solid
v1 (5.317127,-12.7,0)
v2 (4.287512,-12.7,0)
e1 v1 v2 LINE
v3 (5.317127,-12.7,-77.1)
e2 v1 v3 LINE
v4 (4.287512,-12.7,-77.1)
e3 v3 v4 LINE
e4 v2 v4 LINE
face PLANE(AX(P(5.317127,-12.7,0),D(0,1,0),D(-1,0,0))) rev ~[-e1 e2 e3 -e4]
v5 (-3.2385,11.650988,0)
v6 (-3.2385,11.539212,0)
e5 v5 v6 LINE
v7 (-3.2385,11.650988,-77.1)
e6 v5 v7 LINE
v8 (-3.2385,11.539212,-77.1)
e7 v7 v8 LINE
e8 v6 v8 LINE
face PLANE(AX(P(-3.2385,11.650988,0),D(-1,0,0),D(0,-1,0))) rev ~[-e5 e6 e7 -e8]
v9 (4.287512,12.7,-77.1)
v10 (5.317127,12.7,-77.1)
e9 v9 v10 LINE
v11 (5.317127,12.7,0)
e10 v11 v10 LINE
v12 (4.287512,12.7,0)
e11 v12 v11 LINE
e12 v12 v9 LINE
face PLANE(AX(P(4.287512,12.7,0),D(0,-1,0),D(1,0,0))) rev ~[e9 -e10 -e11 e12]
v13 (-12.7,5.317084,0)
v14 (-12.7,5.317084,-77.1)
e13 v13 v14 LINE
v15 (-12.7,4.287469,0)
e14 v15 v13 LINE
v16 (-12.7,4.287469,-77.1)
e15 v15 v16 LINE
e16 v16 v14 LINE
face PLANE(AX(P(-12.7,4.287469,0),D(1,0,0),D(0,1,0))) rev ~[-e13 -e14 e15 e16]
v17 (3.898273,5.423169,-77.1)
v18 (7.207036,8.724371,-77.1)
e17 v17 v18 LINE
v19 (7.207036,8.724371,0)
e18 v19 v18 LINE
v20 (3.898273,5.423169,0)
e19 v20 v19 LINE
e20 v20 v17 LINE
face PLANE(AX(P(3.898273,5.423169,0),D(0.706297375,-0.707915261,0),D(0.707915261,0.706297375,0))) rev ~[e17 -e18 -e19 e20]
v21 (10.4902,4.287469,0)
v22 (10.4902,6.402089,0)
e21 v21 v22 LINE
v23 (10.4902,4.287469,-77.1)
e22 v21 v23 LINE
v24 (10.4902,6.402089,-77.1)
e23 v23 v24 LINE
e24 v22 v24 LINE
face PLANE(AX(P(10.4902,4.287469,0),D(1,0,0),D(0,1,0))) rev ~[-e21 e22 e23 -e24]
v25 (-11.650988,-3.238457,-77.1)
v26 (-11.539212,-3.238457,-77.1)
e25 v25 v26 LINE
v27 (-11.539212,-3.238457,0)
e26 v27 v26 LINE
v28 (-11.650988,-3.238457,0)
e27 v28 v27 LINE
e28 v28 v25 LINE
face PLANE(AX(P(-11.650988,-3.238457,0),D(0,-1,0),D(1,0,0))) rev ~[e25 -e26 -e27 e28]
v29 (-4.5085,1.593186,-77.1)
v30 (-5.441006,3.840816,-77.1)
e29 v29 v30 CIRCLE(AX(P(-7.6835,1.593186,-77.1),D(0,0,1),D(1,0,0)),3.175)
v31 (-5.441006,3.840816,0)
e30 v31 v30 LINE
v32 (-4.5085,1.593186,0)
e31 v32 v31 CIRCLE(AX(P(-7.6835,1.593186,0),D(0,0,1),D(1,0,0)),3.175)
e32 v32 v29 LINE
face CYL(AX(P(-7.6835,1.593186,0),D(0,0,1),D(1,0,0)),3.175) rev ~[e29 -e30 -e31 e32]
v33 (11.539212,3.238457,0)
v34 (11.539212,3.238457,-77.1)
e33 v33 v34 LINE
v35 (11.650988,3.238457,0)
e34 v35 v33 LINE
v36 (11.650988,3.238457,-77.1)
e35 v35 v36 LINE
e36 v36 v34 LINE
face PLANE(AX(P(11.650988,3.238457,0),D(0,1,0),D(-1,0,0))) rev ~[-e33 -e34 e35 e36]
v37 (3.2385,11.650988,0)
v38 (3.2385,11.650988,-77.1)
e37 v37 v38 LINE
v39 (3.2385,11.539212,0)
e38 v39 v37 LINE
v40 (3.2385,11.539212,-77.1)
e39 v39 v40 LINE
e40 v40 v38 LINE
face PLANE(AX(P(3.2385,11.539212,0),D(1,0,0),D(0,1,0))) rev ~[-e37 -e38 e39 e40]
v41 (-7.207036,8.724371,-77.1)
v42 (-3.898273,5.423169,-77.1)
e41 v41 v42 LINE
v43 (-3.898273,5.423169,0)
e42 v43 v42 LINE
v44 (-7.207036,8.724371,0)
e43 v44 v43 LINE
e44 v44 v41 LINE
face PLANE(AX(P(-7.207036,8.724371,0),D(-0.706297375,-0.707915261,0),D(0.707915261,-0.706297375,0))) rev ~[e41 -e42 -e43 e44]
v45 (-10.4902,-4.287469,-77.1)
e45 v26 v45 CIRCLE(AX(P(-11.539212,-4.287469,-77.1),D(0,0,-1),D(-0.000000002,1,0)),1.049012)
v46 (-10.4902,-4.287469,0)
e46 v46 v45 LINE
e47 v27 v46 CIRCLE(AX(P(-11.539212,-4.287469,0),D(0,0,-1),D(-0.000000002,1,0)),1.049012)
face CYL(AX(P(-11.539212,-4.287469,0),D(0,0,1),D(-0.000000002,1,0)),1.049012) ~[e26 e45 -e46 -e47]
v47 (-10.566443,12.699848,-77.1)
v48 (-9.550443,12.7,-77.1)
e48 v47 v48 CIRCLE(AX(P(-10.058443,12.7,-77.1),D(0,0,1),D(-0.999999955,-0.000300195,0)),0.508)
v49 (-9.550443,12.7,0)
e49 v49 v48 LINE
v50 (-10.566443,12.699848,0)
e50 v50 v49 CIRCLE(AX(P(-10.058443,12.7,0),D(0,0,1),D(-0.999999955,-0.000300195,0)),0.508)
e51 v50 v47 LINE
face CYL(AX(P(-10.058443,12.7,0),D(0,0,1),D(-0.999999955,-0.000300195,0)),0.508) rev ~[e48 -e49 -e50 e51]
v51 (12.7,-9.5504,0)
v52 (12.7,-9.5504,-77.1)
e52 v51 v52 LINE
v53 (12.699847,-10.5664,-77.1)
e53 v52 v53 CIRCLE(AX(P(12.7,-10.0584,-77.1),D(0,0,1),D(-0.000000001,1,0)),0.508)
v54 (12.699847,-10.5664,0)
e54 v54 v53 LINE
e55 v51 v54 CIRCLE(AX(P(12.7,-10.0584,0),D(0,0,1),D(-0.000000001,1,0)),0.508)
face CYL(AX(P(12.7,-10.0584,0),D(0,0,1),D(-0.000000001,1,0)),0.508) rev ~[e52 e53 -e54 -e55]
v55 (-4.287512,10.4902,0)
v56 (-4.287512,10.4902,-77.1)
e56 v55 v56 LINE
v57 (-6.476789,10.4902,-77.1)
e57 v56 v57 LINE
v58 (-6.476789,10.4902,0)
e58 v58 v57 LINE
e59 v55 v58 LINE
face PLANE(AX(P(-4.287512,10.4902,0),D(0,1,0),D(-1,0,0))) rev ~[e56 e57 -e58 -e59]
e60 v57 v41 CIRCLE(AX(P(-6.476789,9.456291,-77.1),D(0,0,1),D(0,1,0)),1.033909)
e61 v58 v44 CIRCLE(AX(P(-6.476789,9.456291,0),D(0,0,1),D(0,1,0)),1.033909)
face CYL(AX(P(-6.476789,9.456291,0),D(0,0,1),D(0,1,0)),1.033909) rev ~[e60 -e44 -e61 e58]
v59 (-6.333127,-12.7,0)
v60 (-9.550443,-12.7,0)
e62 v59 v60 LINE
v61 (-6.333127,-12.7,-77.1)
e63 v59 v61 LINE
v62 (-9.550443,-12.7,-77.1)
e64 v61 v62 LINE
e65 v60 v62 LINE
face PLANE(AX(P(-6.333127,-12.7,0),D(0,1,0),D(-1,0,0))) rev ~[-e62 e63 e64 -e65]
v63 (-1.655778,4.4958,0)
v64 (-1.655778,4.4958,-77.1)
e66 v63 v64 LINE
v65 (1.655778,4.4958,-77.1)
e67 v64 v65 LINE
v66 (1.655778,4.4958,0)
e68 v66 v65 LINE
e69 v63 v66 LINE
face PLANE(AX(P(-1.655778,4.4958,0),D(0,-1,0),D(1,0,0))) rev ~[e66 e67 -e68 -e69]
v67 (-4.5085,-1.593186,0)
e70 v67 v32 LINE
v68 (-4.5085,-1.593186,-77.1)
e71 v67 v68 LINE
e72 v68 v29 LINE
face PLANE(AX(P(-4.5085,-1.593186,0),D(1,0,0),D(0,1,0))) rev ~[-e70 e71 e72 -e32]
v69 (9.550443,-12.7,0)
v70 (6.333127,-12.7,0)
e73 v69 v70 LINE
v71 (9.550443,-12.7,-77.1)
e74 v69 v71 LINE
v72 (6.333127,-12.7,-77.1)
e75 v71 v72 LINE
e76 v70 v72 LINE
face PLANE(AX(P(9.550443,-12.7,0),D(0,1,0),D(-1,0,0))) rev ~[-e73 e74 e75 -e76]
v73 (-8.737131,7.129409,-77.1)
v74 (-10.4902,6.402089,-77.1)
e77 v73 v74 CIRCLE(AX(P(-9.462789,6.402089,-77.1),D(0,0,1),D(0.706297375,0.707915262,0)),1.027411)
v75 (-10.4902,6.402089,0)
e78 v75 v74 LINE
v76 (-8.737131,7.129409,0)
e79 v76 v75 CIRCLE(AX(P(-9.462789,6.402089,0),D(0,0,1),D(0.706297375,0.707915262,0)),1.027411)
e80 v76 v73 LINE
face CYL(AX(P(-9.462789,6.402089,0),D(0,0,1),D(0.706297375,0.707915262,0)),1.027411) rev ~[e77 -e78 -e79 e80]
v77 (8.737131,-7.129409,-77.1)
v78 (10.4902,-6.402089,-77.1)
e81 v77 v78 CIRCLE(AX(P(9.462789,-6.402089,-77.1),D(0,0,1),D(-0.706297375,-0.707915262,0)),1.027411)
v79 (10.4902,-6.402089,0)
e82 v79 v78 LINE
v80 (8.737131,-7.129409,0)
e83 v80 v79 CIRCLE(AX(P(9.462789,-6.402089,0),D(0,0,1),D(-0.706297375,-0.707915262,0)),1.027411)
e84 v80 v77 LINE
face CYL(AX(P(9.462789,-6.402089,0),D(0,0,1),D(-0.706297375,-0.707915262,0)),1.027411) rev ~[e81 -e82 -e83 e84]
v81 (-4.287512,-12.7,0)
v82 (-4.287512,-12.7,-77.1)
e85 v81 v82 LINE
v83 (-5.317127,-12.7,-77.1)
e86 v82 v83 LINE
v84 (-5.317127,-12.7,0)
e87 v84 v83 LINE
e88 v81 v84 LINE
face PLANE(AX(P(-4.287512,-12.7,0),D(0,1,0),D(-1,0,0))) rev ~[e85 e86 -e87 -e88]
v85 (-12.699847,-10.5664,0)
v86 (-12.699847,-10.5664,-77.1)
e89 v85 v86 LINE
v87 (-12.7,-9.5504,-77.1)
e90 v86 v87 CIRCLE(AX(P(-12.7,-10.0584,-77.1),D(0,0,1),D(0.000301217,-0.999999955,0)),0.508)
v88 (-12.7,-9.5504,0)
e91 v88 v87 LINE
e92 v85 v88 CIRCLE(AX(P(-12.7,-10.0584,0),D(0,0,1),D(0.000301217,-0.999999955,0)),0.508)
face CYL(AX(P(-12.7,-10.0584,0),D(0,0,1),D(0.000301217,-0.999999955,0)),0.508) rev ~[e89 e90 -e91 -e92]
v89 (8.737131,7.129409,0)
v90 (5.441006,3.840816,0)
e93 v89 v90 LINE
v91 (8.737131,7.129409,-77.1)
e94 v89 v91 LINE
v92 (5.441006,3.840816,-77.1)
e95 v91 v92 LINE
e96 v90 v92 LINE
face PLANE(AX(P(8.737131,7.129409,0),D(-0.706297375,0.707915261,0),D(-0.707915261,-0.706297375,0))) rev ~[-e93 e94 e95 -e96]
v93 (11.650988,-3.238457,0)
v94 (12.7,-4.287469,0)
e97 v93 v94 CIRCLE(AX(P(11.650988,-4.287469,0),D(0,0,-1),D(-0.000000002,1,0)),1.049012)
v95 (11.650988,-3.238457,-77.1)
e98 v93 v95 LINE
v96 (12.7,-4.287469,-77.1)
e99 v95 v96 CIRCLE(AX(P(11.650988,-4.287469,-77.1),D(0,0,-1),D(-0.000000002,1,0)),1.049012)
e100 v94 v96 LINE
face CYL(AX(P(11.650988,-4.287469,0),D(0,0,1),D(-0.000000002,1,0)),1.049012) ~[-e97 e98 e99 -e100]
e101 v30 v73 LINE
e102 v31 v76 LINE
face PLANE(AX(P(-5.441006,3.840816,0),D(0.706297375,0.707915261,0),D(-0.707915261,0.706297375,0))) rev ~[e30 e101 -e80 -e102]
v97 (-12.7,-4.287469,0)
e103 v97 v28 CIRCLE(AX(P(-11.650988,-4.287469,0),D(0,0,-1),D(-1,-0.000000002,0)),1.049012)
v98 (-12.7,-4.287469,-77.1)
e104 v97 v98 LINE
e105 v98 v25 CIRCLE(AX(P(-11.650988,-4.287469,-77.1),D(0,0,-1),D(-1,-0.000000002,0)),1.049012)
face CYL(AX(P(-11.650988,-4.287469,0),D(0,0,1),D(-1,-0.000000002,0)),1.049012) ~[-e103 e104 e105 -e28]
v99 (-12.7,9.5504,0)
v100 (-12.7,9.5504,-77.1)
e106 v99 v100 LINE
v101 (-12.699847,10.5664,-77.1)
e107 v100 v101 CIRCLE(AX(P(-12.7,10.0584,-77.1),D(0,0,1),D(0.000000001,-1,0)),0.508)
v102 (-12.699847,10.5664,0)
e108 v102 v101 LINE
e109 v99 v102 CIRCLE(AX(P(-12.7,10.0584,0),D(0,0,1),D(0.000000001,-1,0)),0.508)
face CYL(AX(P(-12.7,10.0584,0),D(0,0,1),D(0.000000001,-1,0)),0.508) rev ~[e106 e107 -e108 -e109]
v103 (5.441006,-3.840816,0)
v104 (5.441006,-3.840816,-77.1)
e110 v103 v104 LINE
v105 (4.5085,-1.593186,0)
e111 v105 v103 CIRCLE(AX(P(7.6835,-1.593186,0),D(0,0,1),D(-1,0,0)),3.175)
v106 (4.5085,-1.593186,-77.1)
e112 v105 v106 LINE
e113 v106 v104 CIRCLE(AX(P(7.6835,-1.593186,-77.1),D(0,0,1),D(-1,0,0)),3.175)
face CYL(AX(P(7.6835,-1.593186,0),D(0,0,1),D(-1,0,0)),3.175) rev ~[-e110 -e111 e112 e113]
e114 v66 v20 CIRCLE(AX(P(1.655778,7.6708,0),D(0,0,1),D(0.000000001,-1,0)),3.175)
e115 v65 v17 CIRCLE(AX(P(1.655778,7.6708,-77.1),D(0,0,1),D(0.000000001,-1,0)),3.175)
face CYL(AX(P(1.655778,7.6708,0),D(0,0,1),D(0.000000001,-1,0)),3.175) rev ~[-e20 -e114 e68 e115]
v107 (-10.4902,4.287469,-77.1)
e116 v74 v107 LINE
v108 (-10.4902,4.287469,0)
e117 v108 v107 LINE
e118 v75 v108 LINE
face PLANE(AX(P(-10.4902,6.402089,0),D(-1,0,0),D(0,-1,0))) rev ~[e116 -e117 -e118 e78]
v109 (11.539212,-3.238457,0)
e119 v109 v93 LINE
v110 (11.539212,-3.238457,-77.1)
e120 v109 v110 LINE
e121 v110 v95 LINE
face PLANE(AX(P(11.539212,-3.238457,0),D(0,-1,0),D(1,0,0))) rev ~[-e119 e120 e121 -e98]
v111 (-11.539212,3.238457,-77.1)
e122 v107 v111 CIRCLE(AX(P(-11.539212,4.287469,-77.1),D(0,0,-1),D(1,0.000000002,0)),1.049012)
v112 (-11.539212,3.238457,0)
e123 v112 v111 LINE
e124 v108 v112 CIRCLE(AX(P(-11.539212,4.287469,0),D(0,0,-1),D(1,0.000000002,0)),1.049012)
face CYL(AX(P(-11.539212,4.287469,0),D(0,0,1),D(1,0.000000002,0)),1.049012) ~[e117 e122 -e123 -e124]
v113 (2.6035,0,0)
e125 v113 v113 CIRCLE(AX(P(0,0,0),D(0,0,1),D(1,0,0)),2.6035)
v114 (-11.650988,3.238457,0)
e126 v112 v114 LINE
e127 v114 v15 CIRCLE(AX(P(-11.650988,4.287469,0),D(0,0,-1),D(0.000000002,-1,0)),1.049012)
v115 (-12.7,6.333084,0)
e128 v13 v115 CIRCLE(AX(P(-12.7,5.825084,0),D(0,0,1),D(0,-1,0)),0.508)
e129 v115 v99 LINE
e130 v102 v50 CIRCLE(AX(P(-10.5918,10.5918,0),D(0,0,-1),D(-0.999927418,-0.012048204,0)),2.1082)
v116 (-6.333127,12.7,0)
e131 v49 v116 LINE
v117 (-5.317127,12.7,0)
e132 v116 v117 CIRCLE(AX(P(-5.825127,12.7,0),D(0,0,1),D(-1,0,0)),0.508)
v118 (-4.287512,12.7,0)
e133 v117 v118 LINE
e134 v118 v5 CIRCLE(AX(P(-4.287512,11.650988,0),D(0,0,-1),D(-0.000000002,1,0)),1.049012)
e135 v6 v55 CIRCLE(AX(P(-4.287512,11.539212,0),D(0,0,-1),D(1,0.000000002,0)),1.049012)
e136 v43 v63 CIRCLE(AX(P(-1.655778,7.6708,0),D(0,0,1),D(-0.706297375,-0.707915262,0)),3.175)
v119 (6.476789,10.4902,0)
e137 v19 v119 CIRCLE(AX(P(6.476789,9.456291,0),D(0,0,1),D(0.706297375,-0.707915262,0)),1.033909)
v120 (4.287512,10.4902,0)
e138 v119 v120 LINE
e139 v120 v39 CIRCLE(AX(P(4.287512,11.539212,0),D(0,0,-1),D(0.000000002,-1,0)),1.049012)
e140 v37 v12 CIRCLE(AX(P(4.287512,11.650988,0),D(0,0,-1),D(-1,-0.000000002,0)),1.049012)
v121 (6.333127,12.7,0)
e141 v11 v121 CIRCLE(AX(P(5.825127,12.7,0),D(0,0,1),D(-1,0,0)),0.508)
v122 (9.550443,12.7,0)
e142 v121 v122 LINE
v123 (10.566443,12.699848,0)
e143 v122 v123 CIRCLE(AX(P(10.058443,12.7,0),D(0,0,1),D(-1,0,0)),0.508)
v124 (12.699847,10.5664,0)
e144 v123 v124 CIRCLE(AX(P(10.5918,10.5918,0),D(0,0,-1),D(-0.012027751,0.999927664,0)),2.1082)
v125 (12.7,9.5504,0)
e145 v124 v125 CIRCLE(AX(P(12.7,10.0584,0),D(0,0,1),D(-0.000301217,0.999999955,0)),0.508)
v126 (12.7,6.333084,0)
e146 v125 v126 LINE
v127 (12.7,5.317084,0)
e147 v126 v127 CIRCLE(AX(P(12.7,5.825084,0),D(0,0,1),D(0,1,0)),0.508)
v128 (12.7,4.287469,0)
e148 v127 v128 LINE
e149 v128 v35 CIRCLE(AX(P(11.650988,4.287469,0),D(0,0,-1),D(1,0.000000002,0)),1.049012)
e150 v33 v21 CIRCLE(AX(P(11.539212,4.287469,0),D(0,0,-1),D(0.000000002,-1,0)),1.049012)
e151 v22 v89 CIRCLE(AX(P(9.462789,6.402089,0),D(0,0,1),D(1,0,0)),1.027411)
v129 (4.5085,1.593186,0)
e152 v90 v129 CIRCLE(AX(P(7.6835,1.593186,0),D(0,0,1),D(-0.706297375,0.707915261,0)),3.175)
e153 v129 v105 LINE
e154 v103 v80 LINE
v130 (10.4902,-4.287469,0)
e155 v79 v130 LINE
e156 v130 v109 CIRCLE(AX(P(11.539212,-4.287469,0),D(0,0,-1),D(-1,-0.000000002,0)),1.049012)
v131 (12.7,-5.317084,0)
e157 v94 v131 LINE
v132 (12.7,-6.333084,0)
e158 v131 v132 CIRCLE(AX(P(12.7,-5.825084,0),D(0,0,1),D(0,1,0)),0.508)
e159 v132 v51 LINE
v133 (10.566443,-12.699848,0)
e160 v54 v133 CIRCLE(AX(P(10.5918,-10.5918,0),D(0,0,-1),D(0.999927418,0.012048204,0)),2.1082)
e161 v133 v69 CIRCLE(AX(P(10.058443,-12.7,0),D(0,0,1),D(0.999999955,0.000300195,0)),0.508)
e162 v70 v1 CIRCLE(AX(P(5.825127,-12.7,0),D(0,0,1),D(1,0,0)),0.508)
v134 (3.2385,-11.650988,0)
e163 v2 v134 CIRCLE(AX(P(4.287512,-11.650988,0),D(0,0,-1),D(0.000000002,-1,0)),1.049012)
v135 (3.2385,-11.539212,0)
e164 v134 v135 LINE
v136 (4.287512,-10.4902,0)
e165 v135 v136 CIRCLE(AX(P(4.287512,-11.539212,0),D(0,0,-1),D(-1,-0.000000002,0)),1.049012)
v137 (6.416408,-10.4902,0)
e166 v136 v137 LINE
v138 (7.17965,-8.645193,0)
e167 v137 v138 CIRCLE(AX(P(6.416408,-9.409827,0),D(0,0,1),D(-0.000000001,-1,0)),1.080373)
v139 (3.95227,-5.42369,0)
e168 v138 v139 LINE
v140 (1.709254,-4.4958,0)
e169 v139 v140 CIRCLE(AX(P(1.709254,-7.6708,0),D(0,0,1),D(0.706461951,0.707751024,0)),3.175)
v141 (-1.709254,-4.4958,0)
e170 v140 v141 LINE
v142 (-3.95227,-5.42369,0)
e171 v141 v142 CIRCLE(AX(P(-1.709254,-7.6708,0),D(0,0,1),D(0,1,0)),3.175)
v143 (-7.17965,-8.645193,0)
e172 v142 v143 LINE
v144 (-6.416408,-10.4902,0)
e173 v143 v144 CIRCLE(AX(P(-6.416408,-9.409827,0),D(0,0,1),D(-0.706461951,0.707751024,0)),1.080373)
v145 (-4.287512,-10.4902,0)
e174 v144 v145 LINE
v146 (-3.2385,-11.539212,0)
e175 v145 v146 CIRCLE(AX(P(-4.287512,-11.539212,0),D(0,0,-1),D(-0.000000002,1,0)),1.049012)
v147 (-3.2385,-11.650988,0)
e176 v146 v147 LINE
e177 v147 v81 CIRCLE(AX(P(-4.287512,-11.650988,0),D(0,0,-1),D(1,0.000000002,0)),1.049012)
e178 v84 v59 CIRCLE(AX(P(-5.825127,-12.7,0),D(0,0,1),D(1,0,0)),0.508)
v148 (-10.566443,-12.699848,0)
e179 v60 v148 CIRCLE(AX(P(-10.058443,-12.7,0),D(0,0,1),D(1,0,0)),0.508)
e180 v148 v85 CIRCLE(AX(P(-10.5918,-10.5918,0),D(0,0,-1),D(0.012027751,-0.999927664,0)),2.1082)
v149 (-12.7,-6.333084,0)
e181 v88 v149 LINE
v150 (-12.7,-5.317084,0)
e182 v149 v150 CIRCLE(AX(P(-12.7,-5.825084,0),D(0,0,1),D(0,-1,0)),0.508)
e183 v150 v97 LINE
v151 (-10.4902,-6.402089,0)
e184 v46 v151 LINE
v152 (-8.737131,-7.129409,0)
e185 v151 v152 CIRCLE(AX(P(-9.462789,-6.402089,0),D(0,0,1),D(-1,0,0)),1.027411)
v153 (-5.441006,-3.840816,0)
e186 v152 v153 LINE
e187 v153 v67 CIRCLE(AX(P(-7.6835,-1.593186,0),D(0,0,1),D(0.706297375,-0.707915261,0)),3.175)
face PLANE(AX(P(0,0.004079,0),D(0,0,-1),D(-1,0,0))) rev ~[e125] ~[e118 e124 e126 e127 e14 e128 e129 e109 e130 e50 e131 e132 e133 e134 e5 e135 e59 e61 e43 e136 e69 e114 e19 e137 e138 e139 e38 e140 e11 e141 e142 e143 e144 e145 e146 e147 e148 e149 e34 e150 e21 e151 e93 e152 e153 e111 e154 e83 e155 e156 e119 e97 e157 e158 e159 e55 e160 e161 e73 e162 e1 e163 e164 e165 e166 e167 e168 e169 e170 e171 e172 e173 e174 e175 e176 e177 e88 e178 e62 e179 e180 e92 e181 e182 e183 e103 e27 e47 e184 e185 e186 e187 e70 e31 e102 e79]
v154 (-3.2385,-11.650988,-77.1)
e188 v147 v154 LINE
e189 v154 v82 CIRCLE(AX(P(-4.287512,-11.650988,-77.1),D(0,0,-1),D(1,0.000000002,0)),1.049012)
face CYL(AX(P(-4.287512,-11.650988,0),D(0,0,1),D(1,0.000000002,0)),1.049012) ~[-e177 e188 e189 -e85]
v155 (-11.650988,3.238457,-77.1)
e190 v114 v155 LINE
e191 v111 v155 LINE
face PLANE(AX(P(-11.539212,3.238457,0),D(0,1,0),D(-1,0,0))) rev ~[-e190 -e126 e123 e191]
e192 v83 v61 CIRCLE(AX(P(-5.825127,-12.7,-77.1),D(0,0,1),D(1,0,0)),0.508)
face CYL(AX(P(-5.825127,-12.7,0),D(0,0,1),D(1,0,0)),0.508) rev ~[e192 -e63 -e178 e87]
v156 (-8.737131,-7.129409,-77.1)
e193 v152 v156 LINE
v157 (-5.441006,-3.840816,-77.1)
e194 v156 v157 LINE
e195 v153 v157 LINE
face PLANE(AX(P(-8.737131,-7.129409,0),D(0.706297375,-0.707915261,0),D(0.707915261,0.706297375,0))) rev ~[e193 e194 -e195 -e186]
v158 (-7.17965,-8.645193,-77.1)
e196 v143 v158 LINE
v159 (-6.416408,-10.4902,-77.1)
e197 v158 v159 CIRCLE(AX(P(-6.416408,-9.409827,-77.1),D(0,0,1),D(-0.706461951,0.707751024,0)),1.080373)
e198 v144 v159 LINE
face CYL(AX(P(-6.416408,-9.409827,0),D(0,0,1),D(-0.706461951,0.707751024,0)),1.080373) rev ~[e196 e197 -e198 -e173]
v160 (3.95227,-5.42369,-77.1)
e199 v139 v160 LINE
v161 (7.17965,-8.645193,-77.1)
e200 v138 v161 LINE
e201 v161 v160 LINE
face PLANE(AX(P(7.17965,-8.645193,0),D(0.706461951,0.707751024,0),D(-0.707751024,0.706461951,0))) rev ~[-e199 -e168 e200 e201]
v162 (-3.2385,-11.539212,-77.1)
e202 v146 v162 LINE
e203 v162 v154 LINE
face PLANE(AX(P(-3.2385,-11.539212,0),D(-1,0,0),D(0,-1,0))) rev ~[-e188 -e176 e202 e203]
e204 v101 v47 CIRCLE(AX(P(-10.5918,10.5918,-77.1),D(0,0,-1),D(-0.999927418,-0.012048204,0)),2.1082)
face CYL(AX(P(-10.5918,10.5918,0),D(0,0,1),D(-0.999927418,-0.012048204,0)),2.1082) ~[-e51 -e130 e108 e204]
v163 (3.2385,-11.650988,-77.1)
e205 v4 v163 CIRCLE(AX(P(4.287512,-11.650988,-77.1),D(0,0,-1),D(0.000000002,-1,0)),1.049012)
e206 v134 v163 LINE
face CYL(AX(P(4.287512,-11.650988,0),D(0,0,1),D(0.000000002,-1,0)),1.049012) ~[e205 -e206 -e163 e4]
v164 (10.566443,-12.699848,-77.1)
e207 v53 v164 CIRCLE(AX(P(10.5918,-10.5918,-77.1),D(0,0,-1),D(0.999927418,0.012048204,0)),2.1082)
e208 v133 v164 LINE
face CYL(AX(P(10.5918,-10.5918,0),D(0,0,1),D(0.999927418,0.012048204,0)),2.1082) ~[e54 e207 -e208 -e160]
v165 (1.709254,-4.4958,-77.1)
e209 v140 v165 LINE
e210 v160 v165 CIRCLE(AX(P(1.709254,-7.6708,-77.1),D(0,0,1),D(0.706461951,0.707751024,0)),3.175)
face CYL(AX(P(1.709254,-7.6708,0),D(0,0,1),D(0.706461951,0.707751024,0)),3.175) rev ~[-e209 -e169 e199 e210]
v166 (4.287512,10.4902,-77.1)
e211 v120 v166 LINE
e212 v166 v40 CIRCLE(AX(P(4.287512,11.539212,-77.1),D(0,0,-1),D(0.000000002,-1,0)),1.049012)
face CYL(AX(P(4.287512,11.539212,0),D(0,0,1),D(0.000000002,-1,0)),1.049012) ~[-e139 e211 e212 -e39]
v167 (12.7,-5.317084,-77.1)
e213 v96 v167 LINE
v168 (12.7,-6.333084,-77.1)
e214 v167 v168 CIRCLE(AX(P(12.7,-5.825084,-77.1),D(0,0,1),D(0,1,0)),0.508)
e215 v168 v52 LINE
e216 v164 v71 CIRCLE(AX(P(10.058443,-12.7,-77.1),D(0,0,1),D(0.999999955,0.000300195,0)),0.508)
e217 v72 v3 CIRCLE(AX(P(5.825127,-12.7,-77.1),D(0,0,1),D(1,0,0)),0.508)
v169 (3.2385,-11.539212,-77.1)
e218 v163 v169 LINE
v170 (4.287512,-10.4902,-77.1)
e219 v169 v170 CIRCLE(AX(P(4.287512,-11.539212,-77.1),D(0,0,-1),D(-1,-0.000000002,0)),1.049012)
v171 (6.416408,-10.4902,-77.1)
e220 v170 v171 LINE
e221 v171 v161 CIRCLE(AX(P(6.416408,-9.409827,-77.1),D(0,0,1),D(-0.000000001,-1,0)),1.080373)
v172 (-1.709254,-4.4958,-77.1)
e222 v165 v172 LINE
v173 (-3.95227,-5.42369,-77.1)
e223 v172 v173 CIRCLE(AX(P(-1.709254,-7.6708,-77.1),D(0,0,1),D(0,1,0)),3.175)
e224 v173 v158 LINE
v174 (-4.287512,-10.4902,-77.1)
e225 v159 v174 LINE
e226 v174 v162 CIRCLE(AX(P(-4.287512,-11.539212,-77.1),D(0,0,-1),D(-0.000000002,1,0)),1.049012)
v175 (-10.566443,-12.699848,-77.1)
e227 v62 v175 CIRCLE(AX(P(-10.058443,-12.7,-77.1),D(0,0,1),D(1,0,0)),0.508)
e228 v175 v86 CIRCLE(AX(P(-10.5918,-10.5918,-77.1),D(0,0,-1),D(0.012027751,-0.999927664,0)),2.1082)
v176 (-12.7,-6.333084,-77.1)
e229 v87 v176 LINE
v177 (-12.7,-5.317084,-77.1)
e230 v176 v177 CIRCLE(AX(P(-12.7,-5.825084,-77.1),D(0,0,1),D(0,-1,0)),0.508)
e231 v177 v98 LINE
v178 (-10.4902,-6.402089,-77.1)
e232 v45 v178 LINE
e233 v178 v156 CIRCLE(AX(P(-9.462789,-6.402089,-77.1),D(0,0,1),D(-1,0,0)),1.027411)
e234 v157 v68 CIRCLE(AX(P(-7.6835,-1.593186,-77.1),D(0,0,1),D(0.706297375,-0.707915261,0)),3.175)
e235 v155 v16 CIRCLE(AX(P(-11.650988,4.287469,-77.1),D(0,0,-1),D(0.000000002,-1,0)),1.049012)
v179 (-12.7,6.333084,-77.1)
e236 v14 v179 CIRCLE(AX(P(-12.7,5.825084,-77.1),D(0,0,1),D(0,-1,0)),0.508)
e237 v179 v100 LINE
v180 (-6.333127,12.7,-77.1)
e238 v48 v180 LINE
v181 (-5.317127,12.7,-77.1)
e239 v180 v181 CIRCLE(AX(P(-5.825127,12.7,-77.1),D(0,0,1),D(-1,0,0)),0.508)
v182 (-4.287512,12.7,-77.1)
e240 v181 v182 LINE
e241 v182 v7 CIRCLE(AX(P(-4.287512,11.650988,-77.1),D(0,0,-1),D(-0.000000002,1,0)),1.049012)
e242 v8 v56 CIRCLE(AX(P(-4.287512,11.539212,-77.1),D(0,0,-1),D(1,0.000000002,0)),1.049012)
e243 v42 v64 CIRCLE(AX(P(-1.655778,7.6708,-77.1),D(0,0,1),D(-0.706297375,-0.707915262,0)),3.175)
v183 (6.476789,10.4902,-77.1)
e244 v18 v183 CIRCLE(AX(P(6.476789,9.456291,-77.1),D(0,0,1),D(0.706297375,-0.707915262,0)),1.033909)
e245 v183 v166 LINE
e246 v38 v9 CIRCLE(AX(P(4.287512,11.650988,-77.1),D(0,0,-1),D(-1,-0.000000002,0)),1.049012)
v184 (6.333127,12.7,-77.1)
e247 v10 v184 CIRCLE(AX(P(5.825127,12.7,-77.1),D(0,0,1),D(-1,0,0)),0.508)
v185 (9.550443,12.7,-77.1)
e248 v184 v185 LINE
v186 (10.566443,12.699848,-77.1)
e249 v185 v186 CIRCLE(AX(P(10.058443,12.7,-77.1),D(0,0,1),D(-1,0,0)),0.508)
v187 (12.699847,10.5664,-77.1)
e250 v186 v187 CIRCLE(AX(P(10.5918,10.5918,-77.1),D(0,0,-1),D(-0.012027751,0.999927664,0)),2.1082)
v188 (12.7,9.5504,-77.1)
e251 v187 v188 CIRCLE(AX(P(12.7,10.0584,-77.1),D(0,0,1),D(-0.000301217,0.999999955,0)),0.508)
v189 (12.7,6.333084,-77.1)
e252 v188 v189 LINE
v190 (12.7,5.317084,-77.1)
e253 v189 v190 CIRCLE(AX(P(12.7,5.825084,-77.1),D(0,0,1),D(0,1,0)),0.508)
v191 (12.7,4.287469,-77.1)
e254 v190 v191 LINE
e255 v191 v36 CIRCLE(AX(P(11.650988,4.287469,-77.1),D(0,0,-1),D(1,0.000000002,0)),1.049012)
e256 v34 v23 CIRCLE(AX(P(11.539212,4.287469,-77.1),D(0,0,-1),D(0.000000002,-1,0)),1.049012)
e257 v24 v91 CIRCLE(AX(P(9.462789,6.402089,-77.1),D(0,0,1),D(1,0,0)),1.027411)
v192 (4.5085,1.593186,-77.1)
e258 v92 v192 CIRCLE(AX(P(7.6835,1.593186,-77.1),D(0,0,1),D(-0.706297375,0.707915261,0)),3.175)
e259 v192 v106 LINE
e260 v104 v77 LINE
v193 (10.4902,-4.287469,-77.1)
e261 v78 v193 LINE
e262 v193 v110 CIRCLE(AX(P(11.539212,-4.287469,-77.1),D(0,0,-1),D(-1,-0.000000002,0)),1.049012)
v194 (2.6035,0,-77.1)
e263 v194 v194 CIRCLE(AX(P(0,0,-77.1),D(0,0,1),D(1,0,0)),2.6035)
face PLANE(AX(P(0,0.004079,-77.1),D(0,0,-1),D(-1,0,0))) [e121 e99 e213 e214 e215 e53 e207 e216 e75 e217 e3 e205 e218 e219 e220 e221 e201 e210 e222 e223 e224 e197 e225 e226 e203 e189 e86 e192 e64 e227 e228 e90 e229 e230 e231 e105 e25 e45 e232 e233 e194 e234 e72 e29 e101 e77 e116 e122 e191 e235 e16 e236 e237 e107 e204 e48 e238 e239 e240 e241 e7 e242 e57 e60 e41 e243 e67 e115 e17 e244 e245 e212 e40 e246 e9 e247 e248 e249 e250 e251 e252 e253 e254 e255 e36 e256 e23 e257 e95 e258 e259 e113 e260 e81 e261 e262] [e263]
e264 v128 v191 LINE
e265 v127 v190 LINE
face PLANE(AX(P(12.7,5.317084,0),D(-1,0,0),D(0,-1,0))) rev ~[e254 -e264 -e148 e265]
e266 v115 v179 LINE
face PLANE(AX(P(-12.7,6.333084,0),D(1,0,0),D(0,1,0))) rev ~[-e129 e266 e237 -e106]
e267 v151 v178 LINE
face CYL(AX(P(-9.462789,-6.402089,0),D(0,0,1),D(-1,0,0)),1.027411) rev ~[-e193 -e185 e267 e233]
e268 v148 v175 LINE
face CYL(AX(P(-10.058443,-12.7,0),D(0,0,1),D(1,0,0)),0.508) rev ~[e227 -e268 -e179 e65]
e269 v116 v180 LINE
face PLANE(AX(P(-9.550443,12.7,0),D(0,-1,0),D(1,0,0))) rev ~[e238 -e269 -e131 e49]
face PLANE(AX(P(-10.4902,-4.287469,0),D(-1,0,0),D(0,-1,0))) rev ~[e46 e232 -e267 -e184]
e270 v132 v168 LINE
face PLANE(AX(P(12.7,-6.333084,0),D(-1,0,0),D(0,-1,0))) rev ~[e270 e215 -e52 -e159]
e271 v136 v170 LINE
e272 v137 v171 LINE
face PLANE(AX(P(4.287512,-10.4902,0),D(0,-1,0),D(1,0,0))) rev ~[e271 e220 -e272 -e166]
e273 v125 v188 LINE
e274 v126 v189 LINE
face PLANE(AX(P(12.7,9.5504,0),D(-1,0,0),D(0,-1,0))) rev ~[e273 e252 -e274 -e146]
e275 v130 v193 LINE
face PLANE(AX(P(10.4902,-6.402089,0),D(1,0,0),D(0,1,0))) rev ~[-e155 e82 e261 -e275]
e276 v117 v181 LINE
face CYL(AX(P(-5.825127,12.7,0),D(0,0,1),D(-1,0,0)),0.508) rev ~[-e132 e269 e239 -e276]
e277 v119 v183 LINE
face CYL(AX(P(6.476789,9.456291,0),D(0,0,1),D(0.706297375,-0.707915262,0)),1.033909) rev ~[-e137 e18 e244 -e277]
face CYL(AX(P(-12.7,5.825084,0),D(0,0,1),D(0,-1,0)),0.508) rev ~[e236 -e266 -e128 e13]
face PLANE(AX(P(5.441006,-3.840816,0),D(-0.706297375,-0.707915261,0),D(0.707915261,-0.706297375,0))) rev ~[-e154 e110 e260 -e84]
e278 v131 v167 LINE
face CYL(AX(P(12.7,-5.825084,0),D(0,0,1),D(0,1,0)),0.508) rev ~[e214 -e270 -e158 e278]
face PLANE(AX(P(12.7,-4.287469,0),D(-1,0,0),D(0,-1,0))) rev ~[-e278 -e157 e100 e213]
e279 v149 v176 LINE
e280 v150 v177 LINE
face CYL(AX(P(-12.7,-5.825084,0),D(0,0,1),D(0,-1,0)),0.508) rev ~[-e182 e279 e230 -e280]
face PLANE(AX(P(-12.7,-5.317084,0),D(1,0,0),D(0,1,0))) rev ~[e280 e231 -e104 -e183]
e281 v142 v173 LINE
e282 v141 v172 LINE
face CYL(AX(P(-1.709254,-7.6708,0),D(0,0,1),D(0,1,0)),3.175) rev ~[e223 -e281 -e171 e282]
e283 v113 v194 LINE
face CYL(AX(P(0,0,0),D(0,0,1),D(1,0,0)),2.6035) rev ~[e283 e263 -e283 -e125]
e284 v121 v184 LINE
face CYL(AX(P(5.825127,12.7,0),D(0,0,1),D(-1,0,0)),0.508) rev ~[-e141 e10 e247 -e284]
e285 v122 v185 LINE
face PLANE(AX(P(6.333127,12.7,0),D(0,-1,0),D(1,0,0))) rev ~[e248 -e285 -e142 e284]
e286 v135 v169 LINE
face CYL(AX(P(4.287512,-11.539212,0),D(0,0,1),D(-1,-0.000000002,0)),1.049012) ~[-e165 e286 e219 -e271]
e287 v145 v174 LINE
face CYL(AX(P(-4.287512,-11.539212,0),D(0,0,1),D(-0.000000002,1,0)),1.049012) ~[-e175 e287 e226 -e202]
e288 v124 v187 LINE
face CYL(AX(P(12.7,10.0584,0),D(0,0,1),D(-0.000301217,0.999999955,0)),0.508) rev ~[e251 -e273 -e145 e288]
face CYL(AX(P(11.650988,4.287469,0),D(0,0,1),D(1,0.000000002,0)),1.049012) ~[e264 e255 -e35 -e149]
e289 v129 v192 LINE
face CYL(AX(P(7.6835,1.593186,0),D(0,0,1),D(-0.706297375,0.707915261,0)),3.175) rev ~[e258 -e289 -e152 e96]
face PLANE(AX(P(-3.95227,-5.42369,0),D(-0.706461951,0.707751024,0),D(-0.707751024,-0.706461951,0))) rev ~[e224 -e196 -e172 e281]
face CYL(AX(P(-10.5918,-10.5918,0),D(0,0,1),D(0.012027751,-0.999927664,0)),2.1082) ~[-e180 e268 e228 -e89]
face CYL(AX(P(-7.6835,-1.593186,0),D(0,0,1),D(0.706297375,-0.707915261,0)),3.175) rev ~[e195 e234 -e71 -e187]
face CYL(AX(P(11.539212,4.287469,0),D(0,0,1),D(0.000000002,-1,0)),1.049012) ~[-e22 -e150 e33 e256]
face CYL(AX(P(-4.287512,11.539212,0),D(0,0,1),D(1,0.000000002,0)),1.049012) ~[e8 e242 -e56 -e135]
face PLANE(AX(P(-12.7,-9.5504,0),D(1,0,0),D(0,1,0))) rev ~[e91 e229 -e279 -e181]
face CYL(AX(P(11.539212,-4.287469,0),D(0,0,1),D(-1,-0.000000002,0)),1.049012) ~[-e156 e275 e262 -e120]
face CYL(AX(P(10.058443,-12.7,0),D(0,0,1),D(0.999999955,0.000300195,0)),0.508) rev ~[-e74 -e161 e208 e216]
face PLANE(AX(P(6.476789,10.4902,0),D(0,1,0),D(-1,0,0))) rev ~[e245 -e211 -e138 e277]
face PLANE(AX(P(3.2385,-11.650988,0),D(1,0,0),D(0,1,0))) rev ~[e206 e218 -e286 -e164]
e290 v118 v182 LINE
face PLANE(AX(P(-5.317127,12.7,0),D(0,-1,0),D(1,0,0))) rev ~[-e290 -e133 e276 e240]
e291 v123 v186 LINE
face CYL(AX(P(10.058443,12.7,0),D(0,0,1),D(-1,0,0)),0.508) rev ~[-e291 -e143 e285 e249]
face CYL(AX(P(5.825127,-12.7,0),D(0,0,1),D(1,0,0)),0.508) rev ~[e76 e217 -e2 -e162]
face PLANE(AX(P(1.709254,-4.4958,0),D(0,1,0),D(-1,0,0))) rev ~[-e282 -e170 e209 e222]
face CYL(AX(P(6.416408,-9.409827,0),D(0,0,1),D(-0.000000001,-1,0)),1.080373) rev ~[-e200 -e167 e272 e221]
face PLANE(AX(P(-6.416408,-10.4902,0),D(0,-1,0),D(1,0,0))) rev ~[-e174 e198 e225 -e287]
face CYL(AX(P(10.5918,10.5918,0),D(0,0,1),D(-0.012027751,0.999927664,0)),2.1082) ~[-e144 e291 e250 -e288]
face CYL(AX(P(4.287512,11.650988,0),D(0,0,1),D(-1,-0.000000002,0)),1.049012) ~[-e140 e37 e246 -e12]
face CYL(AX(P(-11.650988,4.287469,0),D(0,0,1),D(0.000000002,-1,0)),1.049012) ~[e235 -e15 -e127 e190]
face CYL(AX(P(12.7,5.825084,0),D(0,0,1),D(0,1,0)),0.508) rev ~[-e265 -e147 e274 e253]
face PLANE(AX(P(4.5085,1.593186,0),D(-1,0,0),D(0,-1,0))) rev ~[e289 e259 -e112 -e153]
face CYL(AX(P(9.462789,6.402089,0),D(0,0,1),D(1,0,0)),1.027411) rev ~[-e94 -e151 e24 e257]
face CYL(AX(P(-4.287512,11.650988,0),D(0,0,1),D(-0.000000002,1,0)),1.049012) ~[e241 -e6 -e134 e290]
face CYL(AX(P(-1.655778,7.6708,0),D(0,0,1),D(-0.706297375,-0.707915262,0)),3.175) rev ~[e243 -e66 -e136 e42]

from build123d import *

# Parameters (mm, degrees)
SKETCH1_R      = 2.6035
EXTRUDE1_DEPTH = 77.1


with BuildPart() as part:
    # Sketch1 → Extrude1 (new body)
    with BuildSketch(Plane.XY):
        with BuildLine():
            Line((-7.207036008, 8.724370562), (-3.898272566, 5.423169045))
            ThreePointArc((-3.898272566, 5.423169045), (-2.869120213, 4.736787962), (-1.655778399, 4.4958))
            Line((-1.655778399, 4.4958), (1.655778399, 4.4958))
            ThreePointArc((1.655778399, 4.4958), (2.869120213, 4.736787962), (3.898272566, 5.423169045))
            Line((3.898272566, 5.423169045), (7.207036008, 8.724370562))
            ThreePointArc((7.207036008, 8.724370562), (7.432222385, 9.85140422), (6.476788598, 10.4902))
            Line((6.476788598, 10.4902), (4.287512407, 10.4902))
            ThreePointArc((4.287512407, 10.4902), (3.54574862, 10.79744862), (3.2385, 11.539212407))
            Line((3.2385, 11.539212407), (3.2385, 11.650987593))
            ThreePointArc((3.2385, 11.650987593), (3.54574862, 12.39275138), (4.287512407, 12.7))
            Line((4.287512407, 12.7), (5.317126718, 12.7))
            ThreePointArc((5.317126718, 12.7), (5.825126718, 12.192), (6.333126718, 12.7))
            Line((6.333126718, 12.7), (9.550443118, 12.7))
            ThreePointArc((9.550443118, 12.7), (10.058366869, 12.192000006), (10.566443095, 12.699847501))
            ThreePointArc((10.566443095, 12.699847501), (12.082537762, 12.08250727), (12.699846982, 10.566399977))
            ThreePointArc((12.699846982, 10.566399977), (12.192000006, 10.058323491), (12.7, 9.5504))
            Line((12.7, 9.5504), (12.7, 6.3330836))
            ThreePointArc((12.7, 6.3330836), (12.192, 5.8250836), (12.7, 5.3170836))
            Line((12.7, 5.3170836), (12.7, 4.287469289))
            ThreePointArc((12.7, 4.287469289), (12.39275138, 3.545705502), (11.650987593, 3.238456882))
            Line((11.650987593, 3.238456882), (11.539212407, 3.238456882))
            ThreePointArc((11.539212407, 3.238456882), (10.79744862, 3.545705502), (10.4902, 4.287469289))
            Line((10.4902, 4.287469289), (10.4902, 6.402089023))
            ThreePointArc((10.4902, 6.402089023), (9.856505071, 7.351067942), (8.737131347, 7.129408934))
            Line((8.737131347, 7.129408934), (5.441005833, 3.840816462))
            ThreePointArc((5.441005833, 3.840816462), (4.750877967, 2.809883091), (4.5085, 1.593185507))
            Line((4.5085, 1.593185507), (4.5085, -1.593185507))
            ThreePointArc((4.5085, -1.593185507), (4.750877967, -2.809883091), (5.441005833, -3.840816462))
            Line((5.441005833, -3.840816462), (8.737131347, -7.129408934))
            ThreePointArc((8.737131347, -7.129408934), (9.856505071, -7.351067942), (10.4902, -6.402089023))
            Line((10.4902, -6.402089023), (10.4902, -4.287469289))
            ThreePointArc((10.4902, -4.287469289), (10.79744862, -3.545705502), (11.539212407, -3.238456882))
            Line((11.539212407, -3.238456882), (11.650987593, -3.238456882))
            ThreePointArc((11.650987593, -3.238456882), (12.39275138, -3.545705502), (12.7, -4.287469289))
            Line((12.7, -4.287469289), (12.7, -5.3170836))
            ThreePointArc((12.7, -5.3170836), (12.192, -5.8250836), (12.7, -6.3330836))
            Line((12.7, -6.3330836), (12.7, -9.5504))
            ThreePointArc((12.7, -9.5504), (12.192000006, -10.058323491), (12.699846982, -10.566399977))
            ThreePointArc((12.699846982, -10.566399977), (12.082537762, -12.08250727), (10.566443095, -12.699847501))
            ThreePointArc((10.566443095, -12.699847501), (10.058366869, -12.192000006), (9.550443118, -12.7))
            Line((9.550443118, -12.7), (6.333126718, -12.7))
            ThreePointArc((6.333126718, -12.7), (5.825126718, -12.192), (5.317126718, -12.7))
            Line((5.317126718, -12.7), (4.287512407, -12.7))
            ThreePointArc((4.287512407, -12.7), (3.54574862, -12.39275138), (3.2385, -11.650987593))
            Line((3.2385, -11.650987593), (3.2385, -11.539212407))
            ThreePointArc((3.2385, -11.539212407), (3.54574862, -10.79744862), (4.287512407, -10.4902))
            Line((4.287512407, -10.4902), (6.416408329, -10.4902))
            ThreePointArc((6.416408329, -10.4902), (7.41473083, -9.822813117), (7.179650497, -8.645192506))
            Line((7.179650497, -8.645192506), (3.952270251, -5.423690499))
            ThreePointArc((3.952270251, -5.423690499), (2.922936451, -4.736929036), (1.709253557, -4.4958))
            Line((1.709253557, -4.4958), (-1.709253557, -4.4958))
            ThreePointArc((-1.709253557, -4.4958), (-2.922936451, -4.736929036), (-3.952270251, -5.423690499))
            Line((-3.952270251, -5.423690499), (-7.179650497, -8.645192506))
            ThreePointArc((-7.179650497, -8.645192506), (-7.41473083, -9.822813117), (-6.416408329, -10.4902))
            Line((-6.416408329, -10.4902), (-4.287512407, -10.4902))
            ThreePointArc((-4.287512407, -10.4902), (-3.54574862, -10.79744862), (-3.2385, -11.539212407))
            Line((-3.2385, -11.539212407), (-3.2385, -11.650987593))
            ThreePointArc((-3.2385, -11.650987593), (-3.54574862, -12.39275138), (-4.287512407, -12.7))
            Line((-4.287512407, -12.7), (-5.317126718, -12.7))
            ThreePointArc((-5.317126718, -12.7), (-5.825126718, -12.192), (-6.333126718, -12.7))
            Line((-6.333126718, -12.7), (-9.550443118, -12.7))
            ThreePointArc((-9.550443118, -12.7), (-10.058366869, -12.192000006), (-10.566443095, -12.699847501))
            ThreePointArc((-10.566443095, -12.699847501), (-12.082537762, -12.08250727), (-12.699846982, -10.566399977))
            ThreePointArc((-12.699846982, -10.566399977), (-12.192000006, -10.058323491), (-12.7, -9.5504))
            Line((-12.7, -9.5504), (-12.7, -6.3330836))
            ThreePointArc((-12.7, -6.3330836), (-12.192, -5.8250836), (-12.7, -5.3170836))
            Line((-12.7, -5.3170836), (-12.7, -4.287469289))
            ThreePointArc((-12.7, -4.287469289), (-12.39275138, -3.545705502), (-11.650987593, -3.238456882))
            Line((-11.650987593, -3.238456882), (-11.539212407, -3.238456882))
            ThreePointArc((-11.539212407, -3.238456882), (-10.79744862, -3.545705502), (-10.4902, -4.287469289))
            Line((-10.4902, -4.287469289), (-10.4902, -6.402089023))
            ThreePointArc((-10.4902, -6.402089023), (-9.856505071, -7.351067942), (-8.737131347, -7.129408934))
            Line((-8.737131347, -7.129408934), (-5.441005833, -3.840816462))
            ThreePointArc((-5.441005833, -3.840816462), (-4.750877967, -2.809883091), (-4.5085, -1.593185507))
            Line((-4.5085, -1.593185507), (-4.5085, 1.593185507))
            ThreePointArc((-4.5085, 1.593185507), (-4.750877967, 2.809883091), (-5.441005833, 3.840816462))
            Line((-5.441005833, 3.840816462), (-8.737131347, 7.129408934))
            ThreePointArc((-8.737131347, 7.129408934), (-9.856505071, 7.351067942), (-10.4902, 6.402089023))
            Line((-10.4902, 6.402089023), (-10.4902, 4.287469289))
            ThreePointArc((-10.4902, 4.287469289), (-10.79744862, 3.545705502), (-11.539212407, 3.238456882))
            Line((-11.539212407, 3.238456882), (-11.650987593, 3.238456882))
            ThreePointArc((-11.650987593, 3.238456882), (-12.39275138, 3.545705502), (-12.7, 4.287469289))
            Line((-12.7, 4.287469289), (-12.7, 5.3170836))
            ThreePointArc((-12.7, 5.3170836), (-12.192, 5.8250836), (-12.7, 6.3330836))
            Line((-12.7, 6.3330836), (-12.7, 9.5504))
            ThreePointArc((-12.7, 9.5504), (-12.192000006, 10.058323491), (-12.699846982, 10.566399977))
            ThreePointArc((-12.699846982, 10.566399977), (-12.082537762, 12.08250727), (-10.566443095, 12.699847501))
            ThreePointArc((-10.566443095, 12.699847501), (-10.058366869, 12.192000006), (-9.550443118, 12.7))
            Line((-9.550443118, 12.7), (-6.333126718, 12.7))
            ThreePointArc((-6.333126718, 12.7), (-5.825126718, 12.192), (-5.317126718, 12.7))
            Line((-5.317126718, 12.7), (-4.287512407, 12.7))
            ThreePointArc((-4.287512407, 12.7), (-3.54574862, 12.39275138), (-3.2385, 11.650987593))
            Line((-3.2385, 11.650987593), (-3.2385, 11.539212407))
            ThreePointArc((-3.2385, 11.539212407), (-3.54574862, 10.79744862), (-4.287512407, 10.4902))
            Line((-4.287512407, 10.4902), (-6.476788598, 10.4902))
            ThreePointArc((-6.476788598, 10.4902), (-7.432222385, 9.85140422), (-7.207036008, 8.724370562))
        make_face()
        Circle(SKETCH1_R, mode=Mode.SUBTRACT)
    extrude(amount=-EXTRUDE1_DEPTH)


solid = part.part
